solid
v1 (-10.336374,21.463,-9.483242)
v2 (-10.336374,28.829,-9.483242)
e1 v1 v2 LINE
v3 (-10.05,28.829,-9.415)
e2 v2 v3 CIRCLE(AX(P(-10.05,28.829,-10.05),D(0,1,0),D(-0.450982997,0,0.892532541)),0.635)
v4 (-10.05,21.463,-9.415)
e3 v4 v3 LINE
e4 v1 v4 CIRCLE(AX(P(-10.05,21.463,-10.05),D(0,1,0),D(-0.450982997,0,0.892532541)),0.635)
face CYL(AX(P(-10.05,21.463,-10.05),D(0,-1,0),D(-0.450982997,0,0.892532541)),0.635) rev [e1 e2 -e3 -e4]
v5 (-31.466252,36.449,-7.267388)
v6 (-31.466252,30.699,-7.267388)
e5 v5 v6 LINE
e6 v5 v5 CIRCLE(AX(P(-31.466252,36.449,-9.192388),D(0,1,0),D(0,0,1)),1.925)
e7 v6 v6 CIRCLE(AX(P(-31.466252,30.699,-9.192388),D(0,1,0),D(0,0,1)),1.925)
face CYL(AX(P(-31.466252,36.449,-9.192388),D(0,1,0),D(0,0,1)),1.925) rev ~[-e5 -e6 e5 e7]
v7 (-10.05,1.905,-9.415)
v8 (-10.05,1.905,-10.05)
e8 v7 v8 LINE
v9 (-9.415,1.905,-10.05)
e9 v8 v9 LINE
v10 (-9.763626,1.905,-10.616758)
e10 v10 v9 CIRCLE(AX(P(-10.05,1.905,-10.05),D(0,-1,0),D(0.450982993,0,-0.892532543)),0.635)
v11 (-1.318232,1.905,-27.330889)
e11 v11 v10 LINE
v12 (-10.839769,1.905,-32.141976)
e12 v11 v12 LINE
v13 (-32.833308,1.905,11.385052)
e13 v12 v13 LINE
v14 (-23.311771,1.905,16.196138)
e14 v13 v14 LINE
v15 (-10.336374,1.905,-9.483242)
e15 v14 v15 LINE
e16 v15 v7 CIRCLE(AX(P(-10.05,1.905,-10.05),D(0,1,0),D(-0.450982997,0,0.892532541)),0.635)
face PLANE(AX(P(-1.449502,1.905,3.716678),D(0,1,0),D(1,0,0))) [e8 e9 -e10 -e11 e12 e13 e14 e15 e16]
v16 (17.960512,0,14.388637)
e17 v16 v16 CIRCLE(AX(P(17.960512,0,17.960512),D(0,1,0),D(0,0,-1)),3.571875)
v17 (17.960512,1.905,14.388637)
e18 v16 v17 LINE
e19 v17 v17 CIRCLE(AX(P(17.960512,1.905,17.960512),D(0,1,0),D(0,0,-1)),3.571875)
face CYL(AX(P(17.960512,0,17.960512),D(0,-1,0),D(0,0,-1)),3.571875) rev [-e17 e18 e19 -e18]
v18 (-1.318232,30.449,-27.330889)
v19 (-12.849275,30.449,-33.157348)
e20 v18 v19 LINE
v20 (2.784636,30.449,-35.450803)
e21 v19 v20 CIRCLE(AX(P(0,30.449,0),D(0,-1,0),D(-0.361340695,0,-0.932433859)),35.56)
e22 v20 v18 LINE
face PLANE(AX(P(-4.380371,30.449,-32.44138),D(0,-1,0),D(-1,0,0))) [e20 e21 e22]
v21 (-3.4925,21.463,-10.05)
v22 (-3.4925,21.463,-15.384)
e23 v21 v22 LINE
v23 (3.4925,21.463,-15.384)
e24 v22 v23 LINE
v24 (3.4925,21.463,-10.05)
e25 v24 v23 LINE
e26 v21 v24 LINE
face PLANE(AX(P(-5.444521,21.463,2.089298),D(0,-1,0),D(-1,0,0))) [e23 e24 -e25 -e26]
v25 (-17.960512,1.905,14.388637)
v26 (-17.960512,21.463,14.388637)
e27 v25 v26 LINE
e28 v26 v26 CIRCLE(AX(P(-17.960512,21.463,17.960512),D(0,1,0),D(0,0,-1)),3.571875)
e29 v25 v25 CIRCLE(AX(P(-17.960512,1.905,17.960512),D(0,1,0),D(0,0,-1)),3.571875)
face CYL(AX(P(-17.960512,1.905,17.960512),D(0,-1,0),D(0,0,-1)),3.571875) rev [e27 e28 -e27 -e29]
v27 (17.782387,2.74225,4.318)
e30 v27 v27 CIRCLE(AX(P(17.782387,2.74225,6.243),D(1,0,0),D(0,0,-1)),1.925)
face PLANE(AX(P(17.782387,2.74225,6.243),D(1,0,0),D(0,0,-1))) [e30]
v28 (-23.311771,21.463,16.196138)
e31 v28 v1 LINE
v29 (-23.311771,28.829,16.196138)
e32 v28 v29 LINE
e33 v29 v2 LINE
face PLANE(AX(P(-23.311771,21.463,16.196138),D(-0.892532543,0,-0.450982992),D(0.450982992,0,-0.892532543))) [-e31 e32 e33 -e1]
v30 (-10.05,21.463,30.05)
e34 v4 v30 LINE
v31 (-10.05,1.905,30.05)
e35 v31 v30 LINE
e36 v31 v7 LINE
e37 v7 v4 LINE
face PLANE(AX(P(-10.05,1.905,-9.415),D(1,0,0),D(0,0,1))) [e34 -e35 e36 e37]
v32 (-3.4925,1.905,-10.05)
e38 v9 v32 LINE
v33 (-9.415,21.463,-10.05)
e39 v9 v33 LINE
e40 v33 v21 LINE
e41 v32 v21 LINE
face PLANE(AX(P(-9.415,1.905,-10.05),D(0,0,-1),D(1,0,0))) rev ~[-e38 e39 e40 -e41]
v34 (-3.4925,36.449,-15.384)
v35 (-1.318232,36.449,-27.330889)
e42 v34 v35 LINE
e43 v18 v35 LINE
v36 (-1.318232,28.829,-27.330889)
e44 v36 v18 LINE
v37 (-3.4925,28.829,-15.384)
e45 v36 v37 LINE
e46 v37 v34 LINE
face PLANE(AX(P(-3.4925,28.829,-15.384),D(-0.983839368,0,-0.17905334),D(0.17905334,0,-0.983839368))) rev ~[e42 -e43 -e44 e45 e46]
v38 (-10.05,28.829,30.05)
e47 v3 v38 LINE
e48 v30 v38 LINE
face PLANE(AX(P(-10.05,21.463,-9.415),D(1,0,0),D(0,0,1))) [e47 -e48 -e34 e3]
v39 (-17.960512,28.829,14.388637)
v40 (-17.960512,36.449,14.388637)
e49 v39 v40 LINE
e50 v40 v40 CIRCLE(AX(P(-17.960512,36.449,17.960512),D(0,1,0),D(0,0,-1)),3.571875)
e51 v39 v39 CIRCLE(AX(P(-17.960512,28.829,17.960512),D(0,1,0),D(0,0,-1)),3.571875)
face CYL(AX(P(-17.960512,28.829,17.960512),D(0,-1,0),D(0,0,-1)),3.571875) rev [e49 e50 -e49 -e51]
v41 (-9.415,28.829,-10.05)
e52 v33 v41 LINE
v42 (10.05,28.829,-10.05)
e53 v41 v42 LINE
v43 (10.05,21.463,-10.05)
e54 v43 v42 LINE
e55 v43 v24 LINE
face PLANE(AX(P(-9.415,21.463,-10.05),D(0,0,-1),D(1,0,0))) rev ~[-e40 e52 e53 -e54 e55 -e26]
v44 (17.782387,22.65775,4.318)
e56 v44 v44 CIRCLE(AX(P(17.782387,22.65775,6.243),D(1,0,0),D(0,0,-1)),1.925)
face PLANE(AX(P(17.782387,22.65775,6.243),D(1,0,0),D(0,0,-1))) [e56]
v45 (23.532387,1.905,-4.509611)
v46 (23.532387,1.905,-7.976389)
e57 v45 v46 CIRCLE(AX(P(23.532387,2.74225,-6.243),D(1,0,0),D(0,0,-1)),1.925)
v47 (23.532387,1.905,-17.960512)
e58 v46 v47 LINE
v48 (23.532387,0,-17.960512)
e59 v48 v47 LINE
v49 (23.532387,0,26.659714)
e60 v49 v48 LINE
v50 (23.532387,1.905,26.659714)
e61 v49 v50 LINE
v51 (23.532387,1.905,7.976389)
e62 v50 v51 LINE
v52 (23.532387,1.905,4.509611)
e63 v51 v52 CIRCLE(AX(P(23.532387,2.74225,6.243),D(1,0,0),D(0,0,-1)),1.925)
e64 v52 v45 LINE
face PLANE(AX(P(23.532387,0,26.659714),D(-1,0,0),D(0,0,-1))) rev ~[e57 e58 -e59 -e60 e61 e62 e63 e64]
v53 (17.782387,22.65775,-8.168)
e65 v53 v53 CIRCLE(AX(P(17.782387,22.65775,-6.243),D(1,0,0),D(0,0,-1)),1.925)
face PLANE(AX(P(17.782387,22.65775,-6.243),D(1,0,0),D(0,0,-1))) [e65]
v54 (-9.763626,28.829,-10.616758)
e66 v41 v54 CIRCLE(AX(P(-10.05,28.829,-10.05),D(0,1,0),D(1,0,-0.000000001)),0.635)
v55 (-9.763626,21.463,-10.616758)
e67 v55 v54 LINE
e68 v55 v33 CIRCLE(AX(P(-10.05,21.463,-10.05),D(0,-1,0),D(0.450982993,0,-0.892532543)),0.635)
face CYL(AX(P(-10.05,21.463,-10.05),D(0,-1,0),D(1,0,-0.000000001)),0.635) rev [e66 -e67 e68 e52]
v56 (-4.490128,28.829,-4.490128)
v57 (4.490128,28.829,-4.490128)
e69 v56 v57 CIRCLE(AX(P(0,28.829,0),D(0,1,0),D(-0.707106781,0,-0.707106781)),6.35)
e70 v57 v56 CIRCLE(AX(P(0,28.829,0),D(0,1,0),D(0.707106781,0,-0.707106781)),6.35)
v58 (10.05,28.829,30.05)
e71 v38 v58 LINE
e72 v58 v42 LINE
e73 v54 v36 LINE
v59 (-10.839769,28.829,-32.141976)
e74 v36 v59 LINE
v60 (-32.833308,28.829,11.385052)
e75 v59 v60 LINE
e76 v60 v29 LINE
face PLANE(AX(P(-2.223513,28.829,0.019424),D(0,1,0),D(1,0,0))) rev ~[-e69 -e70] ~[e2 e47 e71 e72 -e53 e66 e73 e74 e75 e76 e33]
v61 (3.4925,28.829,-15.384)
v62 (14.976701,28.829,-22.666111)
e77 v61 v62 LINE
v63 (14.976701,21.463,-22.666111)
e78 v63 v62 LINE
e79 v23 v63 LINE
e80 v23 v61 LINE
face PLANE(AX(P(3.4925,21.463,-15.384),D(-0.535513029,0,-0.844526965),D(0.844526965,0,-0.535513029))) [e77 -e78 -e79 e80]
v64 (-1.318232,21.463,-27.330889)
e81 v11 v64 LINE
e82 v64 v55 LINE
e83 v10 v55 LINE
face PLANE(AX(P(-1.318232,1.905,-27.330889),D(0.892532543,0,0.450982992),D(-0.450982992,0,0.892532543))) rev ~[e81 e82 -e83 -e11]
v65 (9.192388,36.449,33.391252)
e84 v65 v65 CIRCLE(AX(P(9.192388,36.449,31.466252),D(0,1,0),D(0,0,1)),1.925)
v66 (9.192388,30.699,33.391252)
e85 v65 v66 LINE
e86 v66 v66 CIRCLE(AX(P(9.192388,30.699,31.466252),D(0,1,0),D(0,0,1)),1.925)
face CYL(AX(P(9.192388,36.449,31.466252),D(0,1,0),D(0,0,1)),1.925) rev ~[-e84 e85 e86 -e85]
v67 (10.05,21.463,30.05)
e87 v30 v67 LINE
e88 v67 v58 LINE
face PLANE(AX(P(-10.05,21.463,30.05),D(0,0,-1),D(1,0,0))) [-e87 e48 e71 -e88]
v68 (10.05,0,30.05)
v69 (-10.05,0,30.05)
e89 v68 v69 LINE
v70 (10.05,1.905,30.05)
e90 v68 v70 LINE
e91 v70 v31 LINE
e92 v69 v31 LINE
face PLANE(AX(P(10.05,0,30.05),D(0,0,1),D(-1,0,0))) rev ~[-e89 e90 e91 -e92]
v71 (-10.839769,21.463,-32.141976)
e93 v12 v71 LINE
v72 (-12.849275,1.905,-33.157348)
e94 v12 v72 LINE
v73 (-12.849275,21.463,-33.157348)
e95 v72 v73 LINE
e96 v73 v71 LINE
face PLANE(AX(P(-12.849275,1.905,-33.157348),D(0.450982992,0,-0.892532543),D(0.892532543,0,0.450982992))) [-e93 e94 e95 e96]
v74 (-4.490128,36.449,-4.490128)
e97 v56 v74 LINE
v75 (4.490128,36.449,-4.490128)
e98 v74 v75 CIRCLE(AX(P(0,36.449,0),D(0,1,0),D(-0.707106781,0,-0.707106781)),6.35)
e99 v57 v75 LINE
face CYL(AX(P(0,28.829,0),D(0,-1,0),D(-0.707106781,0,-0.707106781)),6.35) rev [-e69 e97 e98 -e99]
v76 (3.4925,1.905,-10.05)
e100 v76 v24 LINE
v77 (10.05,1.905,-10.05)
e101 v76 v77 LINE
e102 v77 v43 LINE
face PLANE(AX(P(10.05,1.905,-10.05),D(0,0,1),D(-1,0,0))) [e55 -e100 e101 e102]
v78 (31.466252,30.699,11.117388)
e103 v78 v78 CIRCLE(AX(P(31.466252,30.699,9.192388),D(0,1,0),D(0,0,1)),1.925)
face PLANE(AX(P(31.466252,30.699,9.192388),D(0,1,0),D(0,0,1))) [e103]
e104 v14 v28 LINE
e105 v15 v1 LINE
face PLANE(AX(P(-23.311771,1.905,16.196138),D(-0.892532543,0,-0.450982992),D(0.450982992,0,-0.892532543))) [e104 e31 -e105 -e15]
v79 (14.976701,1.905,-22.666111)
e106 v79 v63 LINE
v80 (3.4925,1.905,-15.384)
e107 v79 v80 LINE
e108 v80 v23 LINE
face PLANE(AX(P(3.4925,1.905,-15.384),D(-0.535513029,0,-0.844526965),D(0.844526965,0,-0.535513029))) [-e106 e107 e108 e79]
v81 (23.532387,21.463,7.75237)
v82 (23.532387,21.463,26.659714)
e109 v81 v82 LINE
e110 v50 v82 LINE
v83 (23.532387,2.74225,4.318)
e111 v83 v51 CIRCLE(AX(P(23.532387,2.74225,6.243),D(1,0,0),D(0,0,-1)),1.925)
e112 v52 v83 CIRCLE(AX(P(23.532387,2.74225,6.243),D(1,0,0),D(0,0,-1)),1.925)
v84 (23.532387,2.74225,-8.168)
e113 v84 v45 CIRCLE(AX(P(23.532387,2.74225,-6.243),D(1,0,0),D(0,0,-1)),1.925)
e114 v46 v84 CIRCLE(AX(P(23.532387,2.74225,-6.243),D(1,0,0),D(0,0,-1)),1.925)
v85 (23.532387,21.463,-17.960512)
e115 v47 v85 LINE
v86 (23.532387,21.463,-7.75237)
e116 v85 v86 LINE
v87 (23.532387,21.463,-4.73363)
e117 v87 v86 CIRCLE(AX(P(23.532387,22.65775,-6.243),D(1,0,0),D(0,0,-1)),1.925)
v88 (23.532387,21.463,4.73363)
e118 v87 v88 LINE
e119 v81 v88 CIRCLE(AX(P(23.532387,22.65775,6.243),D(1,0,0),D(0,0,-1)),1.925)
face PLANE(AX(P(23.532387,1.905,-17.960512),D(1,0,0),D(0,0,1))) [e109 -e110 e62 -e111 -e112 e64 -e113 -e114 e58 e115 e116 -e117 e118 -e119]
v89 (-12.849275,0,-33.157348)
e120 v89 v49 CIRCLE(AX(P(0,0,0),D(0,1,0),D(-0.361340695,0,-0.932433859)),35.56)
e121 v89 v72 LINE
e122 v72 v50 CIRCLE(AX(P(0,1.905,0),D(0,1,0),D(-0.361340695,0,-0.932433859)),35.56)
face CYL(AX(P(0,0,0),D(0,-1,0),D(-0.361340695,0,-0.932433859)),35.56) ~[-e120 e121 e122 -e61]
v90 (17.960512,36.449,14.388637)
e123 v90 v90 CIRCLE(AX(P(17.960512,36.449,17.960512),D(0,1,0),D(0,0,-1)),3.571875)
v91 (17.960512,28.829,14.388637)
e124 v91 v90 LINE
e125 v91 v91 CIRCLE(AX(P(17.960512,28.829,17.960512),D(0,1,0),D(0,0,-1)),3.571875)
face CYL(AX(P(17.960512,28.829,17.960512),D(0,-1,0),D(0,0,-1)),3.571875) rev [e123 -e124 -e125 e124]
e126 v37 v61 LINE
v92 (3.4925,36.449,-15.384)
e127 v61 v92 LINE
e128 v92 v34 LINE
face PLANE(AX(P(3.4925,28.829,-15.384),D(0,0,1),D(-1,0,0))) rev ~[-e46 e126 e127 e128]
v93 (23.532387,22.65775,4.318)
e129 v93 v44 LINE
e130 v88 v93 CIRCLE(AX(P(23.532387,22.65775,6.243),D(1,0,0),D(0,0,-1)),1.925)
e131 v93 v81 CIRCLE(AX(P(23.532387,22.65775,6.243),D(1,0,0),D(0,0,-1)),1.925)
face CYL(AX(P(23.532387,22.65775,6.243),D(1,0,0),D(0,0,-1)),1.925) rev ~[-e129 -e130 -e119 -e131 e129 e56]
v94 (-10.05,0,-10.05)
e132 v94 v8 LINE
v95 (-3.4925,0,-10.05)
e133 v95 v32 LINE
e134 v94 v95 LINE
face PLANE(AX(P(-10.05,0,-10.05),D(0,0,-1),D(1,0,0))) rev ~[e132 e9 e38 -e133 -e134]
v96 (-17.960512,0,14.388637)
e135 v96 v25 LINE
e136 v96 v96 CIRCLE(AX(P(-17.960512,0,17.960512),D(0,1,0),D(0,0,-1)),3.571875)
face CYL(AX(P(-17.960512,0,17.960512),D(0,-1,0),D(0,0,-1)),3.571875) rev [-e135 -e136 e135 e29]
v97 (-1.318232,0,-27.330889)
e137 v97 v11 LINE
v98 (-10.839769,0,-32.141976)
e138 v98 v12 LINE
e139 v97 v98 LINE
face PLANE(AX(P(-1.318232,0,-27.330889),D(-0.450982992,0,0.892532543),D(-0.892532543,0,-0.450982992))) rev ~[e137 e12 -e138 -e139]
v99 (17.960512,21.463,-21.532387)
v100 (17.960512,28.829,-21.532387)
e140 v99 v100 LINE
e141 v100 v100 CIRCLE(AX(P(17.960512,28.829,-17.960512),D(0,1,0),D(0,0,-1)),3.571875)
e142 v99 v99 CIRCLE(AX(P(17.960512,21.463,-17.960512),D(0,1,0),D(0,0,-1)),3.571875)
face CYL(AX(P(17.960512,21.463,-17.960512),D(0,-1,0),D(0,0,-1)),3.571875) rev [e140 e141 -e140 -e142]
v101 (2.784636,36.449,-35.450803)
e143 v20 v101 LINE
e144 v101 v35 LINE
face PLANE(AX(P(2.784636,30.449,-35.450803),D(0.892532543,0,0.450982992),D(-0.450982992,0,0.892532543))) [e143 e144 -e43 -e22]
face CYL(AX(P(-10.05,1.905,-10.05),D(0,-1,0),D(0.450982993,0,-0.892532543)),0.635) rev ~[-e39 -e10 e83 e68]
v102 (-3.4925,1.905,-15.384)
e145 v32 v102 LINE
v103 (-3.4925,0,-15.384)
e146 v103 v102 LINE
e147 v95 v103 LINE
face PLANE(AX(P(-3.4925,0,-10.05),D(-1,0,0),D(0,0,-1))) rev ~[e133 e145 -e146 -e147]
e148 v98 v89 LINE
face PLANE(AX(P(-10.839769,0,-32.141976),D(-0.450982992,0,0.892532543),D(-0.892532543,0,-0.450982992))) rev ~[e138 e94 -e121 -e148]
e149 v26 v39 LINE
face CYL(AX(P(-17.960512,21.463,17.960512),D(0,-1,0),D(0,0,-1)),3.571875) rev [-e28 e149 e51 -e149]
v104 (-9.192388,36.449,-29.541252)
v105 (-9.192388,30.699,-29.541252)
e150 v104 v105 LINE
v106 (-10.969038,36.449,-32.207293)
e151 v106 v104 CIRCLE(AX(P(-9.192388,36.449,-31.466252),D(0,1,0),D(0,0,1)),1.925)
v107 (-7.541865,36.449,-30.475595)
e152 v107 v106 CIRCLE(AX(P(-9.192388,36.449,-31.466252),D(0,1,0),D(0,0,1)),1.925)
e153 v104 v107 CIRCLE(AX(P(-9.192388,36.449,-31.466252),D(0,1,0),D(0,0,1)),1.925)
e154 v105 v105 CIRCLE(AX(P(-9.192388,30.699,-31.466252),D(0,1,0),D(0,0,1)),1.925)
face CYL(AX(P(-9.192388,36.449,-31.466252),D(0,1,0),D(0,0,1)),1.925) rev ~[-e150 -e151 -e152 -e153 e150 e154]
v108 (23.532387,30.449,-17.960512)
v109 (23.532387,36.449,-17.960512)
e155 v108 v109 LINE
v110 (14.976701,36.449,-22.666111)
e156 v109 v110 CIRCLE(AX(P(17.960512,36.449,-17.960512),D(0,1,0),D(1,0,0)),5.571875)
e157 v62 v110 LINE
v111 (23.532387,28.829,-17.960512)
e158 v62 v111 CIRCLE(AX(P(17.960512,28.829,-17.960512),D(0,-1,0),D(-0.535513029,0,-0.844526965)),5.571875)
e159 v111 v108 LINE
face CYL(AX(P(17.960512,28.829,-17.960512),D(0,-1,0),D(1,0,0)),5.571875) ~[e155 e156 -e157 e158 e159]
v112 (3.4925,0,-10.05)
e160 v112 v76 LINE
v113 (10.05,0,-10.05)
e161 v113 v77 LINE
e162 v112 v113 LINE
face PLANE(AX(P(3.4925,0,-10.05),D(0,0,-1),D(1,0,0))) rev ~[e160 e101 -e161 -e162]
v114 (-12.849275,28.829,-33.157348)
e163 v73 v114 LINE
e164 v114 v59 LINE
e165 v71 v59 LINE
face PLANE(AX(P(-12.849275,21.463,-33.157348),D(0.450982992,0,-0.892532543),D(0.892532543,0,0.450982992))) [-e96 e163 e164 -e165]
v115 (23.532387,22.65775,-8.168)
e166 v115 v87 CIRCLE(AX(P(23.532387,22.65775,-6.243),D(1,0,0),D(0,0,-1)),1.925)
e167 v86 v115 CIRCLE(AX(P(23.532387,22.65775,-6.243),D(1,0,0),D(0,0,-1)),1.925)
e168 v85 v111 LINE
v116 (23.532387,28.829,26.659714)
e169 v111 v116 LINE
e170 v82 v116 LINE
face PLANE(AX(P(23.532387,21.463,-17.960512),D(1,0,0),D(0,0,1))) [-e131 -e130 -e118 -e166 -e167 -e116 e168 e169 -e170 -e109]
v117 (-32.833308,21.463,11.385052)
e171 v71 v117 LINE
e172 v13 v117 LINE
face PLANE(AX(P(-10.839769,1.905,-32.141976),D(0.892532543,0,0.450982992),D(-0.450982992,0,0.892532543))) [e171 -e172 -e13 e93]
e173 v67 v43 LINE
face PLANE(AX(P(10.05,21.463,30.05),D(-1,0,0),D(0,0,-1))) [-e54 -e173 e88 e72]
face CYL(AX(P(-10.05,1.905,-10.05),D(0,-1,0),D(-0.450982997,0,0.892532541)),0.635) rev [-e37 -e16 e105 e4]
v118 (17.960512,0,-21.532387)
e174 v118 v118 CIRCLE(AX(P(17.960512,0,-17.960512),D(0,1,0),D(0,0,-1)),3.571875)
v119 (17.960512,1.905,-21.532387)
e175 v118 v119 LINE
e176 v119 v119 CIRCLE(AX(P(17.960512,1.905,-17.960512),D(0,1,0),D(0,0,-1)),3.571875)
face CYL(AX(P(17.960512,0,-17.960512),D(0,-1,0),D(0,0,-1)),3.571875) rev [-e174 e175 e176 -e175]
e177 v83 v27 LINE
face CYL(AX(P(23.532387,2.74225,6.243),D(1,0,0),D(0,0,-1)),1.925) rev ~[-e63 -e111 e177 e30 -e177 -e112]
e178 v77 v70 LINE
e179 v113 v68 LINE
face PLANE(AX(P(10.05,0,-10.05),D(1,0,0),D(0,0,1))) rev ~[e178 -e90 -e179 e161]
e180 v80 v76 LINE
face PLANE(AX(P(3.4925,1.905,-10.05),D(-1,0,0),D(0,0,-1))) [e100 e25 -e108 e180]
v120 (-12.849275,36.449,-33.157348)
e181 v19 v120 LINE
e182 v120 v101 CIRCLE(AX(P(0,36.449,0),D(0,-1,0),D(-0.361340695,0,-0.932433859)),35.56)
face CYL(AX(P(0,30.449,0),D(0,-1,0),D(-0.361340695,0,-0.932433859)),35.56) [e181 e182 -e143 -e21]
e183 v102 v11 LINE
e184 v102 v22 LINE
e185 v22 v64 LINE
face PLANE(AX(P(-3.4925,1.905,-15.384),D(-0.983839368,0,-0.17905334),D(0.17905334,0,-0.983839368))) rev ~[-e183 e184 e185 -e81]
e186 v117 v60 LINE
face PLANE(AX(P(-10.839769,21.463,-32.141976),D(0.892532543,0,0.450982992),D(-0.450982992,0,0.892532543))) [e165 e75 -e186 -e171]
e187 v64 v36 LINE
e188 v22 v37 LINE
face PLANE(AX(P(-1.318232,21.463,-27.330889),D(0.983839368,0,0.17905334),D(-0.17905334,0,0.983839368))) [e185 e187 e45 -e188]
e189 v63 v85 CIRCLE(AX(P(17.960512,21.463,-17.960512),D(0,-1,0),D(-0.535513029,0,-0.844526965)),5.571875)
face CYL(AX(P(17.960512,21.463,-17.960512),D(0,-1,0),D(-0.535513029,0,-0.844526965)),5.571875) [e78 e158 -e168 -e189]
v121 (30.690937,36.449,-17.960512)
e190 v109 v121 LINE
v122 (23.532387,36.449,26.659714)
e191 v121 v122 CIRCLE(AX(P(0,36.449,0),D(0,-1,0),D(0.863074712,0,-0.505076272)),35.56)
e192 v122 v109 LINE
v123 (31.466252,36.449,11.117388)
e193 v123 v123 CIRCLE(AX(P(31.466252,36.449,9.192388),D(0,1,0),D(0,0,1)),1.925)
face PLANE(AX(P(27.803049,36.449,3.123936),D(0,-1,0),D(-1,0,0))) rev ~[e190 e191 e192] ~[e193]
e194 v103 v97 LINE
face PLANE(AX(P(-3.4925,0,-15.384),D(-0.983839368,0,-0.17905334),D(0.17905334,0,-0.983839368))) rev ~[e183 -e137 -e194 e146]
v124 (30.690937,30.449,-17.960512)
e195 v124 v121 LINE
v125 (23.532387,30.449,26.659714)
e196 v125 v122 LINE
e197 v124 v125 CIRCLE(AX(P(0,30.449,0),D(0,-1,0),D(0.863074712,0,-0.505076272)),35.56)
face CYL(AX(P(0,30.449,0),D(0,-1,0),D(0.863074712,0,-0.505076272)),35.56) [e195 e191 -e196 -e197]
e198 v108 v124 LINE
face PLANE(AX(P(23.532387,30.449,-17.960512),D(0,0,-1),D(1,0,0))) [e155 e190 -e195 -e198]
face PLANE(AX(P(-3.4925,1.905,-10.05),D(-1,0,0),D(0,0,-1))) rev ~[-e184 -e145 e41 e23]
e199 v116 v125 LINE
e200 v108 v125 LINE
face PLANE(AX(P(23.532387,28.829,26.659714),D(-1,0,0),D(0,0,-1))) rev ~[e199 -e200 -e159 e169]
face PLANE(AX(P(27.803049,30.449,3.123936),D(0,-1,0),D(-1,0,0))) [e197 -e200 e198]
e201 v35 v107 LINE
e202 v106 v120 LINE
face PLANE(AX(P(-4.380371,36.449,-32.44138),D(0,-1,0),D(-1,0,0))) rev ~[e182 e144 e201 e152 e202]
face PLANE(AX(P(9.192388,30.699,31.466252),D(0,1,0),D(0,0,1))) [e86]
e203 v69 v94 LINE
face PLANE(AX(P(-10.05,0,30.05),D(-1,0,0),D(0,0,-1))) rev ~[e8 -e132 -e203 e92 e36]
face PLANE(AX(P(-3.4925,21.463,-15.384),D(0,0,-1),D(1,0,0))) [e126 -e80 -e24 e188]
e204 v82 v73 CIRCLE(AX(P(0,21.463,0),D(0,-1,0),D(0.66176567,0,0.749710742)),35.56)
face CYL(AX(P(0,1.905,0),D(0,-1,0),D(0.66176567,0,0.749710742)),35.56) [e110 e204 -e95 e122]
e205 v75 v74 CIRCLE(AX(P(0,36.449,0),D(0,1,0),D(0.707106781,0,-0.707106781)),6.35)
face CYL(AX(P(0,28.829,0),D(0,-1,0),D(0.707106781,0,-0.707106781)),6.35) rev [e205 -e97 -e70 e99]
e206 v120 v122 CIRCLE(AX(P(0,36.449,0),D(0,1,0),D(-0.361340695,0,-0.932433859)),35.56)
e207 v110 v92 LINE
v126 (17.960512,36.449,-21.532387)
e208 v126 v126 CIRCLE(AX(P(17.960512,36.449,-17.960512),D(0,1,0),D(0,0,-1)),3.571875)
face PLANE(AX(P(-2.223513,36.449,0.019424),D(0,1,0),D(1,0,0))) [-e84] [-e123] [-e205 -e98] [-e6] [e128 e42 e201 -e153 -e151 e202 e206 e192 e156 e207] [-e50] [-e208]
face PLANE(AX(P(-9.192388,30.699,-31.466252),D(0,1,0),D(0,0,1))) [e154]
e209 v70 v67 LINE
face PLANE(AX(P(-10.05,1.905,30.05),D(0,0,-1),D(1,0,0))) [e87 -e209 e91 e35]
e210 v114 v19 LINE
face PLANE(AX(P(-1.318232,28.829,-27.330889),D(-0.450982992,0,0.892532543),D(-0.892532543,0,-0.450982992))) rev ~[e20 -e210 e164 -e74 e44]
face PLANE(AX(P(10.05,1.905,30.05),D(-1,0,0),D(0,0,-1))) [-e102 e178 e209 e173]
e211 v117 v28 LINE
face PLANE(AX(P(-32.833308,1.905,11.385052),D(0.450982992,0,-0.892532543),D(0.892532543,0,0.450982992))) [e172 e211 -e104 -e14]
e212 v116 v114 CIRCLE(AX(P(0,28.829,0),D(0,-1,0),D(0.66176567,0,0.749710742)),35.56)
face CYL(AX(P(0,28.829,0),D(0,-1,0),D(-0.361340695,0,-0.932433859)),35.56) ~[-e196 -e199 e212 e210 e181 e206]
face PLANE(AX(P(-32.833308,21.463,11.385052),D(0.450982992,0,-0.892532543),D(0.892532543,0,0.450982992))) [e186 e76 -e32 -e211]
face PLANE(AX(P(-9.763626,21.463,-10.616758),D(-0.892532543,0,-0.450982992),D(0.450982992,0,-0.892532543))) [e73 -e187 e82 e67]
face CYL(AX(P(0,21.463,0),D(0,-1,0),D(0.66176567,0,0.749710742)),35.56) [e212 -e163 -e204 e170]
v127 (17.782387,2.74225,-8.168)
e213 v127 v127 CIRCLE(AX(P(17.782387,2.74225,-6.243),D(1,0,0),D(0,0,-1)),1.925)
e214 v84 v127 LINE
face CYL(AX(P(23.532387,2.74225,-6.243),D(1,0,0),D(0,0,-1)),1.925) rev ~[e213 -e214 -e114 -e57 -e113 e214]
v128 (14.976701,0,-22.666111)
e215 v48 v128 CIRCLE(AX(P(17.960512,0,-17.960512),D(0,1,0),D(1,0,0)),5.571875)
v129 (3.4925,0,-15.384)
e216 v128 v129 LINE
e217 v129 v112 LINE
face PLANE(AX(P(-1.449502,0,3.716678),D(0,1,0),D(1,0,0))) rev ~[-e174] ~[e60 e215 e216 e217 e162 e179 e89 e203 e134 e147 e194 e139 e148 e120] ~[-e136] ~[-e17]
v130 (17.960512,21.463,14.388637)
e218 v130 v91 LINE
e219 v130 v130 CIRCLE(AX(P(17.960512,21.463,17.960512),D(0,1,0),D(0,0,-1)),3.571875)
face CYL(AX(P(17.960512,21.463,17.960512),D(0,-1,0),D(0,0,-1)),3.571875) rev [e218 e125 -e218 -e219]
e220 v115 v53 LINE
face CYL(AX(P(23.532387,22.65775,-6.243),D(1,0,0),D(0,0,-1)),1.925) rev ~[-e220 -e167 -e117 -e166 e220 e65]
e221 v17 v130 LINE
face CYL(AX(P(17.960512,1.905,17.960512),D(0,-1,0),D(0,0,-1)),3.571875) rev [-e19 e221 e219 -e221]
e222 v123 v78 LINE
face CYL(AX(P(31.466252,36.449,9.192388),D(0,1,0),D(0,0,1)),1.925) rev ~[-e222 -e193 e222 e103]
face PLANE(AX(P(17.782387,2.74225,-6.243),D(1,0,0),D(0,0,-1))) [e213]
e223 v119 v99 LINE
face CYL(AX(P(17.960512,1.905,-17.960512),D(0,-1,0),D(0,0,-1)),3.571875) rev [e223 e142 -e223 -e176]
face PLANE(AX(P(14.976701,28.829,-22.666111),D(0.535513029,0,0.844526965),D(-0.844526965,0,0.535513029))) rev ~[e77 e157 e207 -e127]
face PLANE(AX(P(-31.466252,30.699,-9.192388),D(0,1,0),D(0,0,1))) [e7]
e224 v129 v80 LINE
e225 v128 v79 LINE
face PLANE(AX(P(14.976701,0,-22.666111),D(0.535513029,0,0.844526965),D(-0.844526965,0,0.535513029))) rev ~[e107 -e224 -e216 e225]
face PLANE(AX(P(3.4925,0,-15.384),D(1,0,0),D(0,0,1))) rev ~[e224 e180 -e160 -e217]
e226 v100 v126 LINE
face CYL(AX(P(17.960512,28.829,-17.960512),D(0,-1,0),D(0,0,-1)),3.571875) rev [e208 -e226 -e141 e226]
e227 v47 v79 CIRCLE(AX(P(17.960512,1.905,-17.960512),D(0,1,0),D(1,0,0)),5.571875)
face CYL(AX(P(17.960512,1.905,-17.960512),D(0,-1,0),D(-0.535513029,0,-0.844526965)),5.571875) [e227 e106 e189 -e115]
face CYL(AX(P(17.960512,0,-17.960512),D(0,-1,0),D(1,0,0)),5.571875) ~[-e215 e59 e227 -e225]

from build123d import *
from build123d.topology import SkipClean

# Parameters (mm, degrees)
SKETCH2_R           = 3.571875
BOSS_EXTRUDE1_DEPTH = 1.905
SKETCH3_R           = 3.571875
BOSS_EXTRUDE2_DEPTH = 19.558
SKETCH4_R           = 3.571875
BOSS_EXTRUDE3_DEPTH = 7.366
SKETCH5_R           = 3.571875
BOSS_EXTRUDE4_DEPTH = 7.62
SKETCH6_R           = 1.925
CUT_EXTRUDE1_DEPTH  = 5.75
BOSS_EXTRUDE5_START = -6
BOSS_EXTRUDE5_DEPTH = 6
SKETCH7_R           = 1.925
CUT_EXTRUDE2_DEPTH  = 5.75


with BuildPart() as part:
    # Sketch2 → Boss-Extrude1 (new body)
    with BuildSketch(Plane(origin=(0, 0, 0), x_dir=(1, 0, 0), z_dir=(0, 1, 0))):
        with BuildLine():
            Line((10.05, -30.05), (-10.05, -30.05))
            Line((-10.05, -30.05), (-10.05, 10.05))
            Line((-10.05, 10.05), (-3.4925, 10.05))
            Line((-3.4925, 10.05), (-3.4925, 15.384))
            Line((-3.4925, 15.384), (-1.318232079, 27.330889022))
            Line((-1.318232079, 27.330889022), (-10.839769253, 32.141975578))
            Line((-10.839769253, 32.141975578), (-12.849275114, 33.15734804))
            ThreePointArc((-12.849275114, 33.15734804), (-30.38177824, -18.478667457), (23.532387242, -26.659714002))
            Line((23.532387242, -26.659714002), (23.532387242, -17.960512242))
            Line((23.532387242, -17.960512242), (23.532387242, 17.960512242))
            ThreePointArc((23.532387242, 17.960512242), (20.645690581, 22.842684741), (14.976700581, 22.666110928))
            Line((14.976700581, 22.666110928), (3.4925, 15.384))
            Line((3.4925, 15.384), (3.4925, 10.05))
            Line((3.4925, 10.05), (10.05, 10.05))
            Line((10.05, 10.05), (10.05, -30.05))
        make_face()
        with Locations(Location((17.960512242, 17.960512242, 0), (0, 0, 90))):
            Circle(SKETCH2_R, mode=Mode.SUBTRACT)
        with Locations(Location((17.960512242, -17.960512242, 0), (0, 0, 90))):
            Circle(SKETCH2_R, mode=Mode.SUBTRACT)
        with Locations(Location((-17.960512242, -17.960512242, 0), (0, 0, 90))):
            Circle(SKETCH2_R, mode=Mode.SUBTRACT)
    extrude(amount=BOSS_EXTRUDE1_DEPTH)

    # Sketch3 → Boss-Extrude2 (add)
    # profile 1 of 2: a face of its own
    with SkipClean():  # the faces are left unmerged after this step: merging them gives an invalid solid
        with BuildSketch(Plane(origin=(0, 1.905, 0), x_dir=(1, 0, 0), z_dir=(0, 1, 0))):
            with BuildLine():
                Line((-10.839769253, 32.141975578), (-32.833307795, -11.385051501))
                Line((-32.833307795, -11.385051501), (-23.311770621, -16.196138057))
                Line((-23.311770621, -16.196138057), (-10.3363742, 9.483241835))
                ThreePointArc((-10.3363742, 9.483241835), (-10.197196408, 9.432296011), (-10.05, 9.415))
                Line((-10.05, 9.415), (-10.05, -30.05))
                Line((-10.05, -30.05), (10.05, -30.05))
                Line((10.05, -30.05), (10.05, 10.05))
                Line((10.05, 10.05), (3.4925, 10.05))
                Line((3.4925, 10.05), (3.4925, 15.384))
                Line((3.4925, 15.384), (14.976700581, 22.666110928))
                ThreePointArc((14.976700581, 22.666110928), (20.645690581, 22.842684741), (23.532387242, 17.960512242))
                Line((23.532387242, 17.960512242), (23.532387242, -26.659714002))
                ThreePointArc((23.532387242, -26.659714002), (-30.38177824, -18.478667457), (-12.849275114, 33.15734804))
                Line((-12.849275114, 33.15734804), (-10.839769253, 32.141975578))
            make_face()
            with Locations(Location((17.960512242, 17.960512242, 0), (0, 0, 90))):
                Circle(SKETCH3_R, mode=Mode.SUBTRACT)
            with Locations(Location((17.960512242, -17.960512242, 0), (0, 0, 90))):
                Circle(SKETCH3_R, mode=Mode.SUBTRACT)
            with Locations(Location((-17.960512242, -17.960512242, 0), (0, 0, 90))):
                Circle(SKETCH3_R, mode=Mode.SUBTRACT)
        # profile 2 of 2: a face of its own
        with BuildSketch(Plane(origin=(0, 1.905, 0), x_dir=(1, 0, 0), z_dir=(0, 1, 0))):
            with BuildLine():
                Line((-1.318232079, 27.330889022), (-9.7636258, 10.616758165))
                ThreePointArc((-9.7636258, 10.616758165), (-9.509133743, 10.382699101), (-9.415, 10.05))
                Line((-9.415, 10.05), (-3.4925, 10.05))
                Line((-3.4925, 10.05), (-3.4925, 15.384))
                Line((-3.4925, 15.384), (-1.318232079, 27.330889022))
            make_face()
        extrude(amount=BOSS_EXTRUDE2_DEPTH)

    # Sketch4 → Boss-Extrude3 (add)
    with SkipClean():  # the faces are left unmerged after this step: merging them gives an invalid solid
        with BuildSketch(Plane(origin=(0, 21.463, 0), x_dir=(1, 0, 0), z_dir=(0, 1, 0))):
            with BuildLine():
                Line((0, 10.05), (-3.4925, 10.05))
                Line((-3.4925, 10.05), (-9.415, 10.05))
                ThreePointArc((-9.415, 10.05), (-9.509133743, 10.382699101), (-9.7636258, 10.616758165))
                Line((-9.7636258, 10.616758165), (-1.318232079, 27.330889022))
                Line((-1.318232079, 27.330889022), (-3.4925, 15.384))
                Line((-3.4925, 15.384), (3.4925, 15.384))
                Line((3.4925, 15.384), (14.976700581, 22.666110928))
                ThreePointArc((14.976700581, 22.666110928), (20.645690581, 22.842684741), (23.532387242, 17.960512242))
                Line((23.532387242, 17.960512242), (23.532387242, -26.659714002))
                ThreePointArc((23.532387242, -26.659714002), (-30.38177824, -18.478667457), (-12.849275114, 33.15734804))
                Line((-12.849275114, 33.15734804), (-10.839769253, 32.141975578))
                Line((-10.839769253, 32.141975578), (-32.833307795, -11.385051501))
                Line((-32.833307795, -11.385051501), (-23.311770621, -16.196138057))
                Line((-23.311770621, -16.196138057), (-10.3363742, 9.483241835))
                ThreePointArc((-10.3363742, 9.483241835), (-10.197196408, 9.432296011), (-10.05, 9.415))
                Line((-10.05, 9.415), (-10.05, -30.05))
                Line((-10.05, -30.05), (10.05, -30.05))
                Line((10.05, -30.05), (10.05, 10.05))
                Line((10.05, 10.05), (3.4925, 10.05))
                Line((3.4925, 10.05), (0, 10.05))
            make_face()
            with Locations(Location((17.960512242, 17.960512242, 0), (0, 0, 90))):
                Circle(SKETCH4_R, mode=Mode.SUBTRACT)
            with Locations(Location((17.960512242, -17.960512242, 0), (0, 0, 90))):
                Circle(SKETCH4_R, mode=Mode.SUBTRACT)
            with Locations(Location((-17.960512242, -17.960512242, 0), (0, 0, 90))):
                Circle(SKETCH4_R, mode=Mode.SUBTRACT)
        extrude(amount=BOSS_EXTRUDE3_DEPTH)

    # Sketch5 → Boss-Extrude4 (add)
    with SkipClean():  # the faces are left unmerged after this step: merging them gives an invalid solid
        with BuildSketch(Plane(origin=(0, 28.829, 0), x_dir=(1, 0, 0), z_dir=(0, 1, 0))):
            with BuildLine():
                Line((3.4925, 15.384), (-3.4925, 15.384))
                Line((-3.4925, 15.384), (-1.318232079, 27.330889022))
                Line((-1.318232079, 27.330889022), (-12.849275114, 33.15734804))
                ThreePointArc((-12.849275114, 33.15734804), (-30.38177824, -18.478667457), (23.532387242, -26.659714002))
                Line((23.532387242, -26.659714002), (23.532387242, 17.960512242))
                ThreePointArc((23.532387242, 17.960512242), (20.645690581, 22.842684741), (14.976700581, 22.666110928))
                Line((14.976700581, 22.666110928), (3.4925, 15.384))
            make_face()
            with Locations(Location((17.960512242, 17.960512242, 0), (0, 0, 90))):
                Circle(SKETCH5_R, mode=Mode.SUBTRACT)
            with Locations(Location((17.960512242, -17.960512242, 0), (0, 0, 90))):
                Circle(SKETCH5_R, mode=Mode.SUBTRACT)
            with Locations(Location((-17.960512242, -17.960512242, 0), (0, 0, 90))):
                Circle(SKETCH5_R, mode=Mode.SUBTRACT)
            with BuildLine():
                ThreePointArc((4.490128061, 4.490128061), (0, 6.35), (-4.490128061, 4.490128061))
                ThreePointArc((-4.490128061, 4.490128061), (0, -6.35), (4.490128061, 4.490128061))
            make_face(mode=Mode.SUBTRACT)
        extrude(amount=BOSS_EXTRUDE4_DEPTH)

    # Sketch6 → Cut-Extrude1 (cut)
    with SkipClean():  # the faces are left unmerged after this step: merging them gives an invalid solid
        with BuildSketch(Plane(origin=(23.532387242, 0, 0), x_dir=(0, 0, -1), z_dir=(1, 0, 0))):
            with Locations((-6.243, 22.65775)):
                Circle(SKETCH6_R)
            with Locations((6.243, 22.65775)):
                Circle(SKETCH6_R)
            with Locations((6.243, 2.74225)):
                Circle(SKETCH6_R)
            with Locations((-6.243, 2.74225)):
                Circle(SKETCH6_R)
        extrude(amount=-CUT_EXTRUDE1_DEPTH, mode=Mode.SUBTRACT)

    # Sketch8 → Boss-Extrude5 (add)
    with SkipClean():  # the faces are left unmerged after this step: merging them gives an invalid solid
        with BuildSketch(Plane(origin=(0, 36.449, 0), x_dir=(1, 0, 0), z_dir=(0, 1, 0)).offset(BOSS_EXTRUDE5_START)):
            with BuildLine():
                Line((-1.318232079, 27.330889022), (-12.849275114, 33.15734804))
                ThreePointArc((-12.849275114, 33.15734804), (-5.161320145, 35.183438922), (2.78463559, 35.450802595))
                Line((2.78463559, 35.450802595), (-1.318232079, 27.330889022))
            make_face()
            with BuildLine():
                Line((23.532387242, 17.960512242), (30.690936773, 17.960512242))
                ThreePointArc((30.690936773, 17.960512242), (35.111014858, -5.63295976), (23.532387242, -26.659714002))
                Line((23.532387242, -26.659714002), (23.532387242, -17.960512242))
                Line((23.532387242, -17.960512242), (23.532387242, 17.960512242))
            make_face()
        extrude(amount=BOSS_EXTRUDE5_DEPTH)

    # Sketch7 → Cut-Extrude2 (cut)
    with SkipClean():  # the faces are left unmerged after this step: merging them gives an invalid solid
        with BuildSketch(Plane(origin=(0, 36.449, 0), x_dir=(1, 0, 0), z_dir=(0, 1, 0))):
            with Locations(Location((-31.466251763, 9.192388155, 0), (0, 0, 270))):
                Circle(SKETCH7_R)
            with Locations(Location((-9.192388155, 31.466251763, 0), (0, 0, 270))):
                Circle(SKETCH7_R)
            with Locations(Location((31.466251763, -9.192388155, 0), (0, 0, 270))):
                Circle(SKETCH7_R)
            with Locations(Location((9.192388155, -31.466251763, 0), (0, 0, 270))):
                Circle(SKETCH7_R)
        extrude(amount=-CUT_EXTRUDE2_DEPTH, mode=Mode.SUBTRACT)


solid = part.part
